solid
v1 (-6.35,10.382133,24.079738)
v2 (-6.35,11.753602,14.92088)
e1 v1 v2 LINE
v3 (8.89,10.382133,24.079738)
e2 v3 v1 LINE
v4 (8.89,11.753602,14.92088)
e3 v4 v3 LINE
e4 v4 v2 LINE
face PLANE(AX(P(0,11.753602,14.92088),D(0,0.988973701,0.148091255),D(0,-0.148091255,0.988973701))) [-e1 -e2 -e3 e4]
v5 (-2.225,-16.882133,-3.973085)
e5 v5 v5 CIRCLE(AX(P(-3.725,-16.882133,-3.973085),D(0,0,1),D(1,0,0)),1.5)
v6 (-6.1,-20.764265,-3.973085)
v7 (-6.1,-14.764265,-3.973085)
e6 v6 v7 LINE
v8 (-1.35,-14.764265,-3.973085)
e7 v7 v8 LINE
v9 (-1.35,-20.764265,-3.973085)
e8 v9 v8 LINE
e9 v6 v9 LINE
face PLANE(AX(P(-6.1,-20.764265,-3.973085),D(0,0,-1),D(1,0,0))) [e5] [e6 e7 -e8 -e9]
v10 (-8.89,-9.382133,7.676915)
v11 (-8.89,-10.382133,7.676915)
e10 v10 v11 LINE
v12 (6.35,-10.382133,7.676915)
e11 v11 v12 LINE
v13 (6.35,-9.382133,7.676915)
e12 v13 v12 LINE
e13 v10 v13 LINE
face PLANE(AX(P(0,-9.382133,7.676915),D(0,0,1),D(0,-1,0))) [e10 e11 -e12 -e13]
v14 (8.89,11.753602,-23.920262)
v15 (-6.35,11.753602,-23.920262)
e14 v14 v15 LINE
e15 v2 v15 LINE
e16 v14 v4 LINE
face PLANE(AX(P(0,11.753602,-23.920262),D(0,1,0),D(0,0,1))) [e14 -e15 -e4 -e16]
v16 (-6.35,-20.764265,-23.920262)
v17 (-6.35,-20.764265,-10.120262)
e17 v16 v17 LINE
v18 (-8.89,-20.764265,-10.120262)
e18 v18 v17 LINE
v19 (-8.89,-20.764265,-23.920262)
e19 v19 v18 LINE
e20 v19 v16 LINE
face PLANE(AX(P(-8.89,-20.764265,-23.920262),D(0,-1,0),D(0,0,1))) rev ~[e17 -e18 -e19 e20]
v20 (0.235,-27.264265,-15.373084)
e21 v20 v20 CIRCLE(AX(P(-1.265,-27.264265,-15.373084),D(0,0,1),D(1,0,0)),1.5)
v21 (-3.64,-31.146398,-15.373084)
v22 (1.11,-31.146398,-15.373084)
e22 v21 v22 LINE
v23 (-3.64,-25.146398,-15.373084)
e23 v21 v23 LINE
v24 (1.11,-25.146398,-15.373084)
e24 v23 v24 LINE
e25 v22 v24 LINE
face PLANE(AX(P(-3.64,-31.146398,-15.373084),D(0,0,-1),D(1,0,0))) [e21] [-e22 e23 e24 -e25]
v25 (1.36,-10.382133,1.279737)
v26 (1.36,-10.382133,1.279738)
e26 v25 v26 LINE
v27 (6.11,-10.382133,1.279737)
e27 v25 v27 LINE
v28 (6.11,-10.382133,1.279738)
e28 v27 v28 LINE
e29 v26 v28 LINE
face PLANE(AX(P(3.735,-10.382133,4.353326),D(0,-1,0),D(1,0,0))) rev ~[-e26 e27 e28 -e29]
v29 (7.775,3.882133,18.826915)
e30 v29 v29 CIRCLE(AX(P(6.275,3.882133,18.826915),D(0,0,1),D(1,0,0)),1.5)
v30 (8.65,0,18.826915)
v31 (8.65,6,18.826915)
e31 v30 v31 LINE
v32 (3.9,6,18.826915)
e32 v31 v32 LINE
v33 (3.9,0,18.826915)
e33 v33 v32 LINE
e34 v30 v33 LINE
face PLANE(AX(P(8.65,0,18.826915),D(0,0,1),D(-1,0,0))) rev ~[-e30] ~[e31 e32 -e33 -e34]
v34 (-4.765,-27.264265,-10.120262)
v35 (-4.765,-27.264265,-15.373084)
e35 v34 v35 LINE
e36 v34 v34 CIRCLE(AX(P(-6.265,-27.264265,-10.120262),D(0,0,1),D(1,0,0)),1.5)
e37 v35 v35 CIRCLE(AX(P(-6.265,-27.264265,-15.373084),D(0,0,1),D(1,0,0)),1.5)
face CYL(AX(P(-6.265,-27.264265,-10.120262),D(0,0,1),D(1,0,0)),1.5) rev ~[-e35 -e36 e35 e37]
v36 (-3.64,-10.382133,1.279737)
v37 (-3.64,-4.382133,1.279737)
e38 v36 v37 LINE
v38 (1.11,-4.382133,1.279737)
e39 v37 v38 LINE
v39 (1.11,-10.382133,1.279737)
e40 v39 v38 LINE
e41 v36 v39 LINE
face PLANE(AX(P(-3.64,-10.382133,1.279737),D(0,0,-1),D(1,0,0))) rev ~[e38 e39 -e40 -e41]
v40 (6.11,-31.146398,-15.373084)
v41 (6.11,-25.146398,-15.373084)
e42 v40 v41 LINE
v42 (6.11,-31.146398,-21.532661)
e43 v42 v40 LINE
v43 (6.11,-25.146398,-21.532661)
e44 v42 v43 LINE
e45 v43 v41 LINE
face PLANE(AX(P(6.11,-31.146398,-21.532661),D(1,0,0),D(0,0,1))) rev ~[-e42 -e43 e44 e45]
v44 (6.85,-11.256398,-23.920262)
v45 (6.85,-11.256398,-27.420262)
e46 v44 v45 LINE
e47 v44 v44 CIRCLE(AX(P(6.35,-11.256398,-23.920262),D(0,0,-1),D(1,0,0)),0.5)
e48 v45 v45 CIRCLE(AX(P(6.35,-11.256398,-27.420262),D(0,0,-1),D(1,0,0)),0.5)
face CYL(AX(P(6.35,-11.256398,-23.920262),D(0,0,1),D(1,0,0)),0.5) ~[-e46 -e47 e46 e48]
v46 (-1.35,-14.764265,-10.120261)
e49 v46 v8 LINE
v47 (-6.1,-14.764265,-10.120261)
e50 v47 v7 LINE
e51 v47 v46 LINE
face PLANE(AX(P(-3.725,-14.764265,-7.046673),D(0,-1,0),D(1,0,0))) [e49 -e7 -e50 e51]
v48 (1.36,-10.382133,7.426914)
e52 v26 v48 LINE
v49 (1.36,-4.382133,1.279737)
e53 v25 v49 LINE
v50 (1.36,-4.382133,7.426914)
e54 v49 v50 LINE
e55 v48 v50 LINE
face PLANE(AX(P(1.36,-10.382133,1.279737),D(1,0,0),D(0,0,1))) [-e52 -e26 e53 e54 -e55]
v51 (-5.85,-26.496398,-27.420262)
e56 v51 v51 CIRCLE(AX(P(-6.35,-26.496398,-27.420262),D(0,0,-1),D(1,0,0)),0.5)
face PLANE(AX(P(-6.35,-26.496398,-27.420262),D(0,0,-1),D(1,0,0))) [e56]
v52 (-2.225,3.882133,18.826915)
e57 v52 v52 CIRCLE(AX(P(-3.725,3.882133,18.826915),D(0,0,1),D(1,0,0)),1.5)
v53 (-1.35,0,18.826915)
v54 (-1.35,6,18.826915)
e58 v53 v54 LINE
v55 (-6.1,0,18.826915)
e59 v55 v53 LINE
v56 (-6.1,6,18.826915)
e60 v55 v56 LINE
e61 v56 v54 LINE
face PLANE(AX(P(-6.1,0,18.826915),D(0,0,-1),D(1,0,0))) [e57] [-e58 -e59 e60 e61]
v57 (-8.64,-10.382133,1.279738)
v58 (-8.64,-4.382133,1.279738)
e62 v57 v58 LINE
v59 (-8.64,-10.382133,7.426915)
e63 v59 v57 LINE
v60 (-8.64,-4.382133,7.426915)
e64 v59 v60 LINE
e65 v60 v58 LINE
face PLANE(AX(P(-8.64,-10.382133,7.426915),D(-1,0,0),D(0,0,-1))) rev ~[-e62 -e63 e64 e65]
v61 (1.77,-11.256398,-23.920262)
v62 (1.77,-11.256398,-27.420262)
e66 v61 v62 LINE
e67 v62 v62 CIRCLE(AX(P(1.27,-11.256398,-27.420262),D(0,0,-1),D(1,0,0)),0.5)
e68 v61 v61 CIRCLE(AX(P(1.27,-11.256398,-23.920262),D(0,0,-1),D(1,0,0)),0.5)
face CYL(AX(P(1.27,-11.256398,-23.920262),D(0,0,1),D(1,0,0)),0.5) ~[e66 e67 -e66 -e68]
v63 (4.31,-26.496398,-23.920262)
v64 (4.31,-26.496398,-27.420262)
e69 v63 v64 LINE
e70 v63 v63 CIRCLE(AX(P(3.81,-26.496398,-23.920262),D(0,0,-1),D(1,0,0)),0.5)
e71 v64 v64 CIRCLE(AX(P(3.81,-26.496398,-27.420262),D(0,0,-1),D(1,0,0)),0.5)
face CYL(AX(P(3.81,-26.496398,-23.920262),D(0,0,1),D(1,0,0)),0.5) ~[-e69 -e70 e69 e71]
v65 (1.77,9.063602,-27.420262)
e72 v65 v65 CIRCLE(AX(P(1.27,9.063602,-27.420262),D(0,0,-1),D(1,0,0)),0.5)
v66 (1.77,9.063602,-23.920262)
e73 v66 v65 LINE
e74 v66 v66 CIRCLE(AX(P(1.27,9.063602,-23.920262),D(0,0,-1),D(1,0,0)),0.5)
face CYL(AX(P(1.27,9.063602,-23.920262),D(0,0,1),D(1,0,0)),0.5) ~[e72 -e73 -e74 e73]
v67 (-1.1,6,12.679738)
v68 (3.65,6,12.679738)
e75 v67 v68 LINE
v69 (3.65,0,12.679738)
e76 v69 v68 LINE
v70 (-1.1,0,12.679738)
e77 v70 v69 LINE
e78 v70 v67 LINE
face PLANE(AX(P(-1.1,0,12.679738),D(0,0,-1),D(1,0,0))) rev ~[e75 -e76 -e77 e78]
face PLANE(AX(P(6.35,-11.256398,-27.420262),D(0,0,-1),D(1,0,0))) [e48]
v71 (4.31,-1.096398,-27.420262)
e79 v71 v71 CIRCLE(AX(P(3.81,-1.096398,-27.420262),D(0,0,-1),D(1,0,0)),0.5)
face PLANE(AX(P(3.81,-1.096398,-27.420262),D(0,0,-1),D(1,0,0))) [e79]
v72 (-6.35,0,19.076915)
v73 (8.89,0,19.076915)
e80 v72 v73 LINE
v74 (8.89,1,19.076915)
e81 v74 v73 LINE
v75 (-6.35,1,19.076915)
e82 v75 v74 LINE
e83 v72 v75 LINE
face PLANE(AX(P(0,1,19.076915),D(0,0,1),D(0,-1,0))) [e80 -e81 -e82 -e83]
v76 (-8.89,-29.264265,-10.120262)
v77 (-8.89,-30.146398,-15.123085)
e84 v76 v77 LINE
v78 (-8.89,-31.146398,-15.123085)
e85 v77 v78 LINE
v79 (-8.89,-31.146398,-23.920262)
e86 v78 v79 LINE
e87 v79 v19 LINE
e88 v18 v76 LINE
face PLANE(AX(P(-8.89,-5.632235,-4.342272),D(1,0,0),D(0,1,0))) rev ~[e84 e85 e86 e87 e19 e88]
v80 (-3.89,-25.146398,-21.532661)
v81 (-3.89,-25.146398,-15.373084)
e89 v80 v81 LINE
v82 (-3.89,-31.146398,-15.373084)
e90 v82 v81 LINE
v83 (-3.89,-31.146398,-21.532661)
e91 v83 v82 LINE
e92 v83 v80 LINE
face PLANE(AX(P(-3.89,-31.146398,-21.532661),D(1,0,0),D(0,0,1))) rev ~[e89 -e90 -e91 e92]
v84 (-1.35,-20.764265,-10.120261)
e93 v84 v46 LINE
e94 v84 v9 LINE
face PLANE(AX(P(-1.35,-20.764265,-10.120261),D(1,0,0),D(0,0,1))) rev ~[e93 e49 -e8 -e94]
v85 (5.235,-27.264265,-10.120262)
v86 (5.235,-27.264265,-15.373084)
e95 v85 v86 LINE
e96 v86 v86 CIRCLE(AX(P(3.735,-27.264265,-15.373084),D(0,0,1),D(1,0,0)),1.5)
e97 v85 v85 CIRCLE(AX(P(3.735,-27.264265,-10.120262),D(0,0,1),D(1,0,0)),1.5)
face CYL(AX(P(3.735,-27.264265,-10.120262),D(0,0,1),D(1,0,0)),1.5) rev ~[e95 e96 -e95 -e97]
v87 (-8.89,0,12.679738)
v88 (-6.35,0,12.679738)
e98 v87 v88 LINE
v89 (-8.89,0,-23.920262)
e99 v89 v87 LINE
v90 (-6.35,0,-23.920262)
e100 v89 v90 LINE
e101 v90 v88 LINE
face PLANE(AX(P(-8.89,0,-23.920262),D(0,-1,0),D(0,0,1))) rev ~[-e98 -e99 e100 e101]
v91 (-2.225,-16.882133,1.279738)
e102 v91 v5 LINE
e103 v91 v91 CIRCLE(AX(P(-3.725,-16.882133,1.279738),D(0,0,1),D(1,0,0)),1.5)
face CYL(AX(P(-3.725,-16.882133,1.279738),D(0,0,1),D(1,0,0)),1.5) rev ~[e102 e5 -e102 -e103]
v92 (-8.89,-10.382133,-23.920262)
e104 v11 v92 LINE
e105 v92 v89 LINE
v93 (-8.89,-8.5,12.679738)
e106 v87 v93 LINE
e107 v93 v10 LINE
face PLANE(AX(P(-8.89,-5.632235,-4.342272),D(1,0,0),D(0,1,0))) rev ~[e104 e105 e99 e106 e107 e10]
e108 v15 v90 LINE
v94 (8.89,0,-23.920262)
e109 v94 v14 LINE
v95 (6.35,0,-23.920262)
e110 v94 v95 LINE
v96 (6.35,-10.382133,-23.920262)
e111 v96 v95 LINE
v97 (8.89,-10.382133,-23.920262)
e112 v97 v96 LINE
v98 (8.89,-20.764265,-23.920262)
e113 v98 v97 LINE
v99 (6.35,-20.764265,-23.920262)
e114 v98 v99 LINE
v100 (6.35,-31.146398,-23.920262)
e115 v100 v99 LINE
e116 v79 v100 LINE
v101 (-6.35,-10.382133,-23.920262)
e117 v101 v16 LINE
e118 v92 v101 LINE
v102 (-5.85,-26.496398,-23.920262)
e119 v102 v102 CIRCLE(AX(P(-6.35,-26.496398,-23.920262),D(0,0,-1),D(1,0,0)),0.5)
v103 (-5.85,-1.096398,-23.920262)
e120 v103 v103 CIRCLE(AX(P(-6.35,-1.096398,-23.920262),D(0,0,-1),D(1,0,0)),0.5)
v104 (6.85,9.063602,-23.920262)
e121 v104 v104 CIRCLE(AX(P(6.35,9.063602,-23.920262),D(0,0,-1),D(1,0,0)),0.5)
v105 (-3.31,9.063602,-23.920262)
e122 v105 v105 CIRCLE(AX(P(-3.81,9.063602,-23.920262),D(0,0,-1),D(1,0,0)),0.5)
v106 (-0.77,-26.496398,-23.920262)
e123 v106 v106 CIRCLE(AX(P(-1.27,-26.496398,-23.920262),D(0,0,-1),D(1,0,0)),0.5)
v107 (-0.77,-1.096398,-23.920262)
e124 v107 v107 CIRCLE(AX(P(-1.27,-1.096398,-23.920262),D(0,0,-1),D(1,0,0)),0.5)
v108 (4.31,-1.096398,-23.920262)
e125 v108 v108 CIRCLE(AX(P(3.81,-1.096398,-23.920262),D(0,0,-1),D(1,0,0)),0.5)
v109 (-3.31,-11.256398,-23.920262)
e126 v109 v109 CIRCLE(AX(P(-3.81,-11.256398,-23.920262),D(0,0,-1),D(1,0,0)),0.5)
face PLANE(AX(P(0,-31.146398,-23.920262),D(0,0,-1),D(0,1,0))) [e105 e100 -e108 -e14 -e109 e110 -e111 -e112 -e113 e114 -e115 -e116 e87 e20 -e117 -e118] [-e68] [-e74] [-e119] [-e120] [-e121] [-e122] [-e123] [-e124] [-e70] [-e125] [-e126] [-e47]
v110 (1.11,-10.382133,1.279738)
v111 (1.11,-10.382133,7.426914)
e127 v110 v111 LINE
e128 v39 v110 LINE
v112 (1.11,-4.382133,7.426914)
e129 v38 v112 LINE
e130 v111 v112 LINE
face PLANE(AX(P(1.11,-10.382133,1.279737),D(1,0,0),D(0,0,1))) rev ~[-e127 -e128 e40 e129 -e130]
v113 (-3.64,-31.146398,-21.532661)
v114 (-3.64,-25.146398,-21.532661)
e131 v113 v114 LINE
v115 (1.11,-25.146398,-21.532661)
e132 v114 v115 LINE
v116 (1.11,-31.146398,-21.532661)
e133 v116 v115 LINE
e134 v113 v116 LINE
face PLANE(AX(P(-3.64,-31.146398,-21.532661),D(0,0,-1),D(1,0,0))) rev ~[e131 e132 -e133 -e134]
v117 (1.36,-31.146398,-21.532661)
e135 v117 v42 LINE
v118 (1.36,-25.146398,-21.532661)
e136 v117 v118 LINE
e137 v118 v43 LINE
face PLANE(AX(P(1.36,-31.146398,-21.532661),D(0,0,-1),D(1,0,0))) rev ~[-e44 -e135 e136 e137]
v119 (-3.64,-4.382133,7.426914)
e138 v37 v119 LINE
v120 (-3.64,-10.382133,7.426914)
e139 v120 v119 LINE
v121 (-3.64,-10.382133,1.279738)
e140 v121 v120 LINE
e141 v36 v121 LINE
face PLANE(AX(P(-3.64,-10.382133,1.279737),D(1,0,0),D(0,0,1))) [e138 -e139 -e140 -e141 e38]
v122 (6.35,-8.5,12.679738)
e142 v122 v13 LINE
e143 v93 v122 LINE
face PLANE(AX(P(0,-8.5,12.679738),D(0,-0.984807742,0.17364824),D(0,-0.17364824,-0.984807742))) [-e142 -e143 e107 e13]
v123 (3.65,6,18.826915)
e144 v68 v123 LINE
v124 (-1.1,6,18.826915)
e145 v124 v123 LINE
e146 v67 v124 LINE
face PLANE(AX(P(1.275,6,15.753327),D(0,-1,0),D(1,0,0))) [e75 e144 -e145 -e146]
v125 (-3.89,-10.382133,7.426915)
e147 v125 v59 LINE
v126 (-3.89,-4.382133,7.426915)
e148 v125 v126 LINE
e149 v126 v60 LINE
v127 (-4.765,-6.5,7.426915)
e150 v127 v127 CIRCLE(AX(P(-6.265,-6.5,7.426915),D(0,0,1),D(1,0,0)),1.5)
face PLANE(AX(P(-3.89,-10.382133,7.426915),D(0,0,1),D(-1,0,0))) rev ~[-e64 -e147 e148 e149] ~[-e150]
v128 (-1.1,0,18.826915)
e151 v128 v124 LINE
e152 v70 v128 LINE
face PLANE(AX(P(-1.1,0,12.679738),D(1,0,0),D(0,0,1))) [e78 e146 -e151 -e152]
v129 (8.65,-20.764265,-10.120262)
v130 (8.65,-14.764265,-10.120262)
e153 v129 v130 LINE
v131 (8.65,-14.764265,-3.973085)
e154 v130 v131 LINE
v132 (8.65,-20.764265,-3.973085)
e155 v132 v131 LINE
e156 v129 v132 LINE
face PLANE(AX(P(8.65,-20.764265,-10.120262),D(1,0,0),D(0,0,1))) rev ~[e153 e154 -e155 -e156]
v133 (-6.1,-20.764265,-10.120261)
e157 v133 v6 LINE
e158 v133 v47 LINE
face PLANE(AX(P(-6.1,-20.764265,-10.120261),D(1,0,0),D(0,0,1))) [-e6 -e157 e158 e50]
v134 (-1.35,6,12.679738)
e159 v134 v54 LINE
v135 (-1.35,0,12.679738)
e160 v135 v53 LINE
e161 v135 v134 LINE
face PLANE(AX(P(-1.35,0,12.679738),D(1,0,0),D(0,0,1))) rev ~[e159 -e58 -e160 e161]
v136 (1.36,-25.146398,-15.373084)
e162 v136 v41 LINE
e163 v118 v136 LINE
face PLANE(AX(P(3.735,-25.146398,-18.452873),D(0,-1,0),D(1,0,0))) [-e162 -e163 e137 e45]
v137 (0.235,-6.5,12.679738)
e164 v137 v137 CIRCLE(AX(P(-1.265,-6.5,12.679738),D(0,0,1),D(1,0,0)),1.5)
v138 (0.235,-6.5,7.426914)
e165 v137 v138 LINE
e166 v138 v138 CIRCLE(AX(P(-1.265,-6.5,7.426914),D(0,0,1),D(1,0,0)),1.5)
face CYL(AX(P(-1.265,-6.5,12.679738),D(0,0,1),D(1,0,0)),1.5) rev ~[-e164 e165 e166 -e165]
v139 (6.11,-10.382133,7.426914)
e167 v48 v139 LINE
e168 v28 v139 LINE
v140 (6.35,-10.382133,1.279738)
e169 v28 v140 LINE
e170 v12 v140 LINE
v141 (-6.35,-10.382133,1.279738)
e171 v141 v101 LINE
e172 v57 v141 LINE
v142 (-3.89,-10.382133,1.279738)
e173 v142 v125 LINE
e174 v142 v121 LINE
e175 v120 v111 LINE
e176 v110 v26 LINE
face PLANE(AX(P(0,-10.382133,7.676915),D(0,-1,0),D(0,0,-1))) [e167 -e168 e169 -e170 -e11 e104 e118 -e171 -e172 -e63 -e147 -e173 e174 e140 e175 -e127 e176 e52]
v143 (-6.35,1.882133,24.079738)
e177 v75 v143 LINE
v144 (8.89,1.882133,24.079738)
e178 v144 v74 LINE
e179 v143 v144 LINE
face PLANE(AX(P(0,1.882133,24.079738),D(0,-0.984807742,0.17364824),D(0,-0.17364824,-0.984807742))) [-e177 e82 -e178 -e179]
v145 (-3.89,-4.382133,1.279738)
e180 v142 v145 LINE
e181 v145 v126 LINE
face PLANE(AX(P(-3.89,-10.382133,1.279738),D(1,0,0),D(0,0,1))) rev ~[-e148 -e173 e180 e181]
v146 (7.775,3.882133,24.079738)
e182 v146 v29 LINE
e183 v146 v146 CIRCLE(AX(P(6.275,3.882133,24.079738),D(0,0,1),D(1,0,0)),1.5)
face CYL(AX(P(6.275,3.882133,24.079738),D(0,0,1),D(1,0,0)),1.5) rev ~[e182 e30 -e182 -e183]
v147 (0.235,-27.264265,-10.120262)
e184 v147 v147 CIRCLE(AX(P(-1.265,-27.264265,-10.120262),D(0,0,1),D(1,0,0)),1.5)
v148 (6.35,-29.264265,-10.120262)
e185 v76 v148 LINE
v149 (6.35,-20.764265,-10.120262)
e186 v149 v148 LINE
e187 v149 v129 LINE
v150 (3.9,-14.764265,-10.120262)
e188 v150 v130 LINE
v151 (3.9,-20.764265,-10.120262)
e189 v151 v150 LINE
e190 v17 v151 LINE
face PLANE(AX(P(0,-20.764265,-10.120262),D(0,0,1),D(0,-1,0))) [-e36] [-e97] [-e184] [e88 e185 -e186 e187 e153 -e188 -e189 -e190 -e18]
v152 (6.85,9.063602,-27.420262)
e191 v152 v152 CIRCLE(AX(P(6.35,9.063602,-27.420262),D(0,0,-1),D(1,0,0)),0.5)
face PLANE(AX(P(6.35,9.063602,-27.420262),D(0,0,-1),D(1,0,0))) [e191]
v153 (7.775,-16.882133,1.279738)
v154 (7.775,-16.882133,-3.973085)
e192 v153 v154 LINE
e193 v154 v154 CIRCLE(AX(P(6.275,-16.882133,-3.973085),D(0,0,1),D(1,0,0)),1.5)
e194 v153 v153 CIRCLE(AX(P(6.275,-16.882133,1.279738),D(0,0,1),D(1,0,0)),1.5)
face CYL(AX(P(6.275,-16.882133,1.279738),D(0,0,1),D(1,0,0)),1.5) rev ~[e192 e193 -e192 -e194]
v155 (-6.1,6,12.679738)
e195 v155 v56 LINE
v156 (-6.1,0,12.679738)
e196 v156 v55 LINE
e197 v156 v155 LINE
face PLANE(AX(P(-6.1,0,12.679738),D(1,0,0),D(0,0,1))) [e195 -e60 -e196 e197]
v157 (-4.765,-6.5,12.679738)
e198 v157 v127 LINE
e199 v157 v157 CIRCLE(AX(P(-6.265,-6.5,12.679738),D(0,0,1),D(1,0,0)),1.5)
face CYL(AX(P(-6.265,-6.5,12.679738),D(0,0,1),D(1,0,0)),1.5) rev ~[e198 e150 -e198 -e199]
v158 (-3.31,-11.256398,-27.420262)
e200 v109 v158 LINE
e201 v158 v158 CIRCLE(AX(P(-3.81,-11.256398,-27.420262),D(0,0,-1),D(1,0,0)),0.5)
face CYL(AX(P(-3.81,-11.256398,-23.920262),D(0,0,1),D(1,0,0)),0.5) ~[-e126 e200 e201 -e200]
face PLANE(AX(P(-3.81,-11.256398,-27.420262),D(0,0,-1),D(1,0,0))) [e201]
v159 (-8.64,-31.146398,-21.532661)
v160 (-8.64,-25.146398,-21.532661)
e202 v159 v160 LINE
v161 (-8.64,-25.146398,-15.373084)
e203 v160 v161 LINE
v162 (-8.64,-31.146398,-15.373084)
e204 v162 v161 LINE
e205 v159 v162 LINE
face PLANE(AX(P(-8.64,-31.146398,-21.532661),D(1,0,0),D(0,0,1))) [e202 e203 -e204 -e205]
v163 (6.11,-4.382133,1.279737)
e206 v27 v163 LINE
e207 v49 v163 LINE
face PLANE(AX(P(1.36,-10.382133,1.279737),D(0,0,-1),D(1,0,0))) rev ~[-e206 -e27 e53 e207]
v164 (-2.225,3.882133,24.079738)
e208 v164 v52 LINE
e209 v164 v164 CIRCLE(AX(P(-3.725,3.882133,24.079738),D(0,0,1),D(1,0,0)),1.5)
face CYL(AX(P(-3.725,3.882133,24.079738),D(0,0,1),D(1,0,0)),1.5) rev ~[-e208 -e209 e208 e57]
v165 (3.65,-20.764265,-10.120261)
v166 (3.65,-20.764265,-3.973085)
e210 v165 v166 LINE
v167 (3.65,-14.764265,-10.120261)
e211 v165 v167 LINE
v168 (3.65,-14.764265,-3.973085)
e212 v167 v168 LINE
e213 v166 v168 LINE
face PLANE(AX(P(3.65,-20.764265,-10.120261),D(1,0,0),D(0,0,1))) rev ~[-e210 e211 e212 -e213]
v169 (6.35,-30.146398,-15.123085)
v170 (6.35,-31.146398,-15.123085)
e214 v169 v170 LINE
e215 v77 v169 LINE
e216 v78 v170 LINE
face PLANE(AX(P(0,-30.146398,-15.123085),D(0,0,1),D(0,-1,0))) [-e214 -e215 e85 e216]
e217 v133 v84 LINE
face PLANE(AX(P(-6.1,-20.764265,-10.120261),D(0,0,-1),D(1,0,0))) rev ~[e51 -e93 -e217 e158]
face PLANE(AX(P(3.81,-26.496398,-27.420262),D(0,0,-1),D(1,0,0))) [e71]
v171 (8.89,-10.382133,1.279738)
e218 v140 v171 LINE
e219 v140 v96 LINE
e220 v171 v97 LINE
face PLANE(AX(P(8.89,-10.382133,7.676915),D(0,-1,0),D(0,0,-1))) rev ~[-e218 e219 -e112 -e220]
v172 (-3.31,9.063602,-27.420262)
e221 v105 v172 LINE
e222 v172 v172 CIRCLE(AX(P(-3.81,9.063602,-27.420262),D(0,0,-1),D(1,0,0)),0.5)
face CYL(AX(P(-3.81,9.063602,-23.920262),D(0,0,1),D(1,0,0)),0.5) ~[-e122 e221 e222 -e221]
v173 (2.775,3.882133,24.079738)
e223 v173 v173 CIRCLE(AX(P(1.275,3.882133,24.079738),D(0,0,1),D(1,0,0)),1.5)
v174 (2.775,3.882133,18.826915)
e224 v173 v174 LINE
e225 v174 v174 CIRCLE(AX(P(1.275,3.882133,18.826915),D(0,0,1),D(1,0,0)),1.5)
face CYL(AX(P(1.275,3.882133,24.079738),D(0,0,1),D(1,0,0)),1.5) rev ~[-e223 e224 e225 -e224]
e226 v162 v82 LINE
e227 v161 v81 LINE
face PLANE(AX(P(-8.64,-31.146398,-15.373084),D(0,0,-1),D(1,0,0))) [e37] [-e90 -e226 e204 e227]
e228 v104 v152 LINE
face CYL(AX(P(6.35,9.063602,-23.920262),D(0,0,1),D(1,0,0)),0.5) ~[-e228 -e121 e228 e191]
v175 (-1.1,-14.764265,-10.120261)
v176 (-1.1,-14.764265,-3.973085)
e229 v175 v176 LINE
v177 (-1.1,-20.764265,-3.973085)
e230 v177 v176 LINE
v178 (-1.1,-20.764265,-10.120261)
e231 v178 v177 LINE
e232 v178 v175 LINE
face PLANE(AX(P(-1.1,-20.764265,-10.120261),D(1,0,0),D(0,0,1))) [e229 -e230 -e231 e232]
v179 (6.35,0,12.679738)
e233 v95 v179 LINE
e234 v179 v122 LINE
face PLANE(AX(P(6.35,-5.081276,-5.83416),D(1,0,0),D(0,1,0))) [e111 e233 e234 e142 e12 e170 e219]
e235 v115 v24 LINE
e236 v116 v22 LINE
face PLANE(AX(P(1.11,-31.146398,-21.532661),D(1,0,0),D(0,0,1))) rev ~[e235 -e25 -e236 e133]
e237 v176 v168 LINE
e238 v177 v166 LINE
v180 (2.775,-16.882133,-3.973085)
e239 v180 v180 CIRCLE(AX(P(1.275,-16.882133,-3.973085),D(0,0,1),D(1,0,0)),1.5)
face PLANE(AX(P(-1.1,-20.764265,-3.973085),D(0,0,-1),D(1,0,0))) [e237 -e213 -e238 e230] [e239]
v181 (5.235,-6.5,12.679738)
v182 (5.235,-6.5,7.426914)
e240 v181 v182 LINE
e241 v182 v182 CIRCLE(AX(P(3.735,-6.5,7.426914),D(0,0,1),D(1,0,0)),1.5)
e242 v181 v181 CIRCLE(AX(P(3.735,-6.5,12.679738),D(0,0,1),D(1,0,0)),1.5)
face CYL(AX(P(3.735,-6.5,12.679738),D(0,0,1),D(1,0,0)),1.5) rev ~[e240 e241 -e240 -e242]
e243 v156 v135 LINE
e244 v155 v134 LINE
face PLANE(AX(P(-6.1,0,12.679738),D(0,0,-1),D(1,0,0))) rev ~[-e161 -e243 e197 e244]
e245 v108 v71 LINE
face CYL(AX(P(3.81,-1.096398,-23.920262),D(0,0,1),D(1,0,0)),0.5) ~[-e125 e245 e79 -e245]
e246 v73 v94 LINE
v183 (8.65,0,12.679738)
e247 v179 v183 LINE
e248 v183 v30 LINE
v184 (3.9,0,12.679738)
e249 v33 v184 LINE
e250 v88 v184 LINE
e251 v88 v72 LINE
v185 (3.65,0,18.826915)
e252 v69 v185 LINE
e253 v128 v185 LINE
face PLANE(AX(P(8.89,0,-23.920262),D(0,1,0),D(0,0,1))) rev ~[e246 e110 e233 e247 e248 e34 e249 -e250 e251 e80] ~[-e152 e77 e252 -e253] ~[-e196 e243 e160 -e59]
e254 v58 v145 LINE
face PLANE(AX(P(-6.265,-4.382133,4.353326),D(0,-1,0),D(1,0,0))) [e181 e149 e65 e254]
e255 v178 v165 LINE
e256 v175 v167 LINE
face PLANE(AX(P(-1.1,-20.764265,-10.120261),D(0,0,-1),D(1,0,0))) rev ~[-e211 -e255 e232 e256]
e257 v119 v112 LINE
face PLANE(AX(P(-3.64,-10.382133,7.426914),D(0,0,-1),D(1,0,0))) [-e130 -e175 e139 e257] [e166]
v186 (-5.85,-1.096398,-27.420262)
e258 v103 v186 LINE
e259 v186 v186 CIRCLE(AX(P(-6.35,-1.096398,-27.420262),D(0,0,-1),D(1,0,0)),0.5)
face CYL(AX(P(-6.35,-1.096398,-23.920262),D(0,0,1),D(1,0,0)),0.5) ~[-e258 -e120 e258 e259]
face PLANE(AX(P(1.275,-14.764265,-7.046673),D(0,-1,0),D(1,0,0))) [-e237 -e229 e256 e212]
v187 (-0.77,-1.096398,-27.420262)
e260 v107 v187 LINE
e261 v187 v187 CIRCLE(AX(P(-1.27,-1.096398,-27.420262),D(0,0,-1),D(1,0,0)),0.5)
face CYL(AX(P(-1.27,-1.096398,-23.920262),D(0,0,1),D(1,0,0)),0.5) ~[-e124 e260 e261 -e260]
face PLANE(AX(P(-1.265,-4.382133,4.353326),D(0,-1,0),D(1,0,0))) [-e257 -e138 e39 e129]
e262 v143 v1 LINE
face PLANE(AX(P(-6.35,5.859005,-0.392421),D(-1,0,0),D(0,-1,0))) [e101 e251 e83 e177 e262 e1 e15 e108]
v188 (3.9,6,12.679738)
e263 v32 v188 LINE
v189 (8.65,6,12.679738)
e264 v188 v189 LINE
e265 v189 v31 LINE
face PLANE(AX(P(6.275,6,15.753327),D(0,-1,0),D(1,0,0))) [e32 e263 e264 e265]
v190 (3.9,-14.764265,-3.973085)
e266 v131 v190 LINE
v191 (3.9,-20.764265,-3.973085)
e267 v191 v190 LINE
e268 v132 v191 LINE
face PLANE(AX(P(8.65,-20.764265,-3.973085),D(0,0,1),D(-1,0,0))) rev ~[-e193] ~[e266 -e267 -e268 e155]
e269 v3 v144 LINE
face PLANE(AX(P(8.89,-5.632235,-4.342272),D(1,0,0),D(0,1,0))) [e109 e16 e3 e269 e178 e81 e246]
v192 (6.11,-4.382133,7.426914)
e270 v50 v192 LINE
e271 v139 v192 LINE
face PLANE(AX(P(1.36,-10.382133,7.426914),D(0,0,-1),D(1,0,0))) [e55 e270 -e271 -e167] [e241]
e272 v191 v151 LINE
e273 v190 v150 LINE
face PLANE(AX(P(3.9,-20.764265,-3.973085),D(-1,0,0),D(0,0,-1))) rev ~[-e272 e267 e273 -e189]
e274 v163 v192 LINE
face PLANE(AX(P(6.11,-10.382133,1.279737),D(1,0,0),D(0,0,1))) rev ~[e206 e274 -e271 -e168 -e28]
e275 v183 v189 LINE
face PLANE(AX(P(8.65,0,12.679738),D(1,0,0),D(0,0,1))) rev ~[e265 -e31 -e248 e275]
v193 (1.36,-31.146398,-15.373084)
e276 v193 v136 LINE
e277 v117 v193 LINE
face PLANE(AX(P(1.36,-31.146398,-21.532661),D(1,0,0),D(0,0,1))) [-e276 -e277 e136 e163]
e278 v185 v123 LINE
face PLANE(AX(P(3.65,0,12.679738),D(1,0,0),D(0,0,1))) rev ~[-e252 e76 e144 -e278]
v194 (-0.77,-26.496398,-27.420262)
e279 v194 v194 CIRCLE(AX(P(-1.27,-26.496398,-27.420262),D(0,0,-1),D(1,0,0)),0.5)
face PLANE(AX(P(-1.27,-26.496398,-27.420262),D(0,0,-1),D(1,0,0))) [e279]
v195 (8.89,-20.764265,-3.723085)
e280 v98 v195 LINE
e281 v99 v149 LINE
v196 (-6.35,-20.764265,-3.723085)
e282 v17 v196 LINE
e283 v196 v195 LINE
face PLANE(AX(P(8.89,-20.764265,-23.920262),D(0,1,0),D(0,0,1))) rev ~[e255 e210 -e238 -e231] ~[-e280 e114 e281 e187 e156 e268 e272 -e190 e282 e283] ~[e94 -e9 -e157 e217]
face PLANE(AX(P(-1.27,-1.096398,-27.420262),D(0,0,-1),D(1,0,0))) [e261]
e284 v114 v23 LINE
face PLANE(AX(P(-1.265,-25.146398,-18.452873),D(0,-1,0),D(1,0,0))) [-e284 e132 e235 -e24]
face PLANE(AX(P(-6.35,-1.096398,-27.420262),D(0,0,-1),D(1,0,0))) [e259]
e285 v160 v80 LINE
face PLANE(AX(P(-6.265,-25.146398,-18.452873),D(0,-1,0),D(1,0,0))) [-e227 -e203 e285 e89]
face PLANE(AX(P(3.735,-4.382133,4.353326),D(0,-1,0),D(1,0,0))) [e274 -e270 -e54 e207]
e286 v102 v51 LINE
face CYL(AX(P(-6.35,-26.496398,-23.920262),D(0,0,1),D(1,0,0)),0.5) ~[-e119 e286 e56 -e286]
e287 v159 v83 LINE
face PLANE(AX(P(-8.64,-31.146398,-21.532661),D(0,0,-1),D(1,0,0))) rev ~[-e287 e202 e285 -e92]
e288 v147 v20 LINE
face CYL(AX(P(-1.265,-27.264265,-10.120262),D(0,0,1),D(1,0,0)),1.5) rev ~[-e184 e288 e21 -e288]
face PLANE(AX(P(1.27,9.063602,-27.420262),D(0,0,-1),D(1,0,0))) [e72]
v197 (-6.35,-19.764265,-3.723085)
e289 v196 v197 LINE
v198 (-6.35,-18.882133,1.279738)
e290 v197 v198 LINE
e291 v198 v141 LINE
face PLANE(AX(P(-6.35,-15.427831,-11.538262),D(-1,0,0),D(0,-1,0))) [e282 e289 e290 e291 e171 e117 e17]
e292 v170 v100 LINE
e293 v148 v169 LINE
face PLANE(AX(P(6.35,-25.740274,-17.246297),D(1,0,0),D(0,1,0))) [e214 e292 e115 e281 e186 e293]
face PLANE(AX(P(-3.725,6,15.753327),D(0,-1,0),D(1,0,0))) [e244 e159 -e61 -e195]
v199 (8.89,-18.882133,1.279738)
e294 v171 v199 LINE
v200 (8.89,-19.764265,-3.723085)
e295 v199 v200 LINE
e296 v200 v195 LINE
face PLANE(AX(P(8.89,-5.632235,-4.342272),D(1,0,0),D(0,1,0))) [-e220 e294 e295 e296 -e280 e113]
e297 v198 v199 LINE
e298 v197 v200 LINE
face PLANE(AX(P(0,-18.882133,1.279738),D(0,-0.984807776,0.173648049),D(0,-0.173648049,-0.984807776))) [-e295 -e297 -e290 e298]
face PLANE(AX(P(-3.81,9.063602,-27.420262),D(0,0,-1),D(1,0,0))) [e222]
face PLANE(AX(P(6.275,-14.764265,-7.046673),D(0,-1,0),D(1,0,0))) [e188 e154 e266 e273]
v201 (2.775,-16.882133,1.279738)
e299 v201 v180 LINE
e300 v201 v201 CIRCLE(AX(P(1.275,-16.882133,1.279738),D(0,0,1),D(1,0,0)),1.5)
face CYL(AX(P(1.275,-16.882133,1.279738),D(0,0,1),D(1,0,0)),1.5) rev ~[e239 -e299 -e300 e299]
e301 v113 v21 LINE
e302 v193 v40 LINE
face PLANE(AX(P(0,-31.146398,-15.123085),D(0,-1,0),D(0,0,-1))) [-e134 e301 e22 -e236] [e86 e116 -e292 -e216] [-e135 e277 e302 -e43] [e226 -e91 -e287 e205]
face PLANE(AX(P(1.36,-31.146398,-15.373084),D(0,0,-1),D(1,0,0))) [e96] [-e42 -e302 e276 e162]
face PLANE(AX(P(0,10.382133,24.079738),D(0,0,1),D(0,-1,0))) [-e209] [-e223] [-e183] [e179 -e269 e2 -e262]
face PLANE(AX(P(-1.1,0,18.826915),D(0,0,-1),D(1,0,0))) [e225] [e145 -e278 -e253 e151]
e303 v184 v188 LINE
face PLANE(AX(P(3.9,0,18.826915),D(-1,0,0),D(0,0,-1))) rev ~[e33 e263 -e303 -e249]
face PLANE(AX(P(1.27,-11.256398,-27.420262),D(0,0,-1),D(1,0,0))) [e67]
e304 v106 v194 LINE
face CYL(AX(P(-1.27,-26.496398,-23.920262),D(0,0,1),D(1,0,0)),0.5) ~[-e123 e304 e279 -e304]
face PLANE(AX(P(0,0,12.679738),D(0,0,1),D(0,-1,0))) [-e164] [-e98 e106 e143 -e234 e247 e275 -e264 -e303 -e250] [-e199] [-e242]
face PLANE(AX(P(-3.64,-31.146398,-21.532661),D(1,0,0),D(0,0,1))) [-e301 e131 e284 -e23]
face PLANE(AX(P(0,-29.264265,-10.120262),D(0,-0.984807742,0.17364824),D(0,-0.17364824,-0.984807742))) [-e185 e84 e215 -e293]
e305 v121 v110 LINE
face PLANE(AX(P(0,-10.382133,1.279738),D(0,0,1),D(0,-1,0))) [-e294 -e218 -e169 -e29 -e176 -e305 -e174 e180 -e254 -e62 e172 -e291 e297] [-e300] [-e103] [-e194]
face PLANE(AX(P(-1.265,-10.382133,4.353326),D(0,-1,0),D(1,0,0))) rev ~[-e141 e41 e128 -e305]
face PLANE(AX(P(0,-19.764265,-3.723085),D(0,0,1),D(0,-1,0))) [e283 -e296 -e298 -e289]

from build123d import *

# Parameters (mm, degrees)
F1_DEPTH  = 8.89
F3_DEPTH  = 2.54
F5_DEPTH  = 2.54
F6_W      = 4.75
F6_H      = 6.159577
F8_W      = 4.75
F8_H      = 6.147177
F7_W      = 4.75
F7_H      = 6.147177
F9_W      = 4.75
F9_H      = 6.147177
F10_DEPTH = 6
F11_R     = 1.5
F12_R     = 1.5
F13_R     = 1.5
F14_R     = 1.5
F15_DEPTH = 6
F16_R     = 0.5
F17_DEPTH = 3.5


with BuildPart() as f1:
    # F0 (on Right) → F1 (new body, symmetric)
    with BuildSketch(Plane.YZ):
        Polygon((10.382133, 24.079738), (1.882133, 24.079738), (1, 19.076915), (0, 19.076915), (0, 12.679738), (-8.5, 12.679738), (-9.382133, 7.676915), (-10.382133, 7.676915), (-10.382133, 1.279738), (-18.882133, 1.279738), (-19.764265, -3.723085), (-20.764265, -3.723085), (-20.764265, -10.120262), (-29.264265, -10.120262), (-30.146398, -15.123085), (-31.146398, -15.123085), (-31.146398, -23.920262), (11.753602, -23.920262), (11.753602, 14.92088), align=None)
    extrude(amount=F1_DEPTH, both=True)

    # F2 (on face) → F3 (cut)
    with BuildSketch(Plane(origin=(-8.89, 0, 0), x_dir=(0, -1, 0), z_dir=(-1, 0, 0))):
        Polygon((-11.753602, -23.920262), (0, -23.920262), (0, 12.679738), (0, 19.076915), (-1, 19.076915), (-1.882133, 24.079738), (-10.382133, 24.079738), (-11.753602, 14.92088), align=None)
        Polygon((20.764265, -23.920262), (20.764265, -10.120262), (20.764265, -3.723085), (19.764265, -3.723085), (18.882133, 1.279738), (10.382133, 1.279738), (10.382133, -23.920262), align=None)
    extrude(amount=-F3_DEPTH, mode=Mode.SUBTRACT)

    # F4 (on face) → F5 (cut)
    with BuildSketch(Plane.YZ.offset(8.89)):
        Polygon((-20.764265, -23.920262), (-20.764265, -10.120262), (-29.264265, -10.120262), (-30.146398, -15.123085), (-31.146398, -15.123085), (-31.146398, -23.920262), align=None)
        Polygon((-10.382133, 1.279738), (-10.382133, -23.920262), (0, -23.920262), (0, 12.679738), (-8.5, 12.679738), (-9.382133, 7.676915), (-10.382133, 7.676915), align=None)
    extrude(amount=-F5_DEPTH, mode=Mode.SUBTRACT)

    # F6 (on face) + F8 (on face) + F7 (on face) + F9 (on face) → F10 (cut)
    with BuildSketch(Plane.XZ.offset(31.146398)):
        with Locations((-6.265, -18.452873)):
            Rectangle(F6_W, F6_H)
        with Locations((-1.265, -18.452873)):
            Rectangle(F6_W, F6_H)
        with Locations((3.735, -18.452873)):
            Rectangle(F6_W, F6_H)
    with BuildSketch(Plane.XZ.offset(10.382133)):
        Polygon((-8.64, 7.426915), (-8.64, 1.279738), (-6.35, 1.279738), (-3.89, 1.279738), (-3.89, 7.426915), align=None)
        with Locations((-1.265, 4.353326)):
            Rectangle(F8_W, F8_H)
        with Locations((3.735, 4.353326)):
            Rectangle(F8_W, F8_H)
    with BuildSketch(Plane.XZ.offset(20.764265)):
        with Locations((-3.725, -7.046673)):
            Rectangle(F7_W, F7_H)
        with Locations((1.275, -7.046673)):
            Rectangle(F7_W, F7_H)
        Polygon((3.9, -3.973085), (3.9, -10.120262), (6.35, -10.120262), (8.65, -10.120262), (8.65, -3.973085), align=None)
    with BuildSketch(Plane.XZ):
        with Locations((-3.725, 15.753327)):
            Rectangle(F9_W, F9_H)
        with Locations((1.275, 15.753327)):
            Rectangle(F9_W, F9_H)
        Polygon((3.9, 18.826915), (3.9, 12.679738), (6.35, 12.679738), (8.65, 12.679738), (8.65, 18.826915), align=None)
    extrude(amount=-F10_DEPTH, mode=Mode.SUBTRACT)

    # F11 (on face) + F12 (on face) + F13 (on face) + F14 (on face) → F15 (cut)
    with BuildSketch(Plane.XY.offset(-10.120262)):
        with Locations((-6.265, -27.264265)):
            Circle(F11_R)
        with Locations((-1.265, -27.264265)):
            Circle(F11_R)
        with Locations((3.735, -27.264265)):
            Circle(F11_R)
    with BuildSketch(Plane.XY.offset(1.279738)):
        with Locations((-3.725, -16.882133)):
            Circle(F12_R)
        with Locations((1.275, -16.882133)):
            Circle(F12_R)
        with Locations((6.275, -16.882133)):
            Circle(F12_R)
    with BuildSketch(Plane.XY.offset(12.679738)):
        with Locations((-6.265, -6.5)):
            Circle(F13_R)
        with Locations((-1.265, -6.5)):
            Circle(F13_R)
        with Locations((3.735, -6.5)):
            Circle(F13_R)
    with BuildSketch(Plane.XY.offset(24.079738)):
        with Locations((-3.725, 3.882133)):
            Circle(F14_R)
        with Locations((1.275, 3.882133)):
            Circle(F14_R)
        with Locations((6.275, 3.882133)):
            Circle(F14_R)
    extrude(amount=-F15_DEPTH, mode=Mode.SUBTRACT)

    # F16 (on face) → F17 (join)
    with BuildSketch(Plane(origin=(0, 0, -23.920262), x_dir=(1, 0, 0), z_dir=(0, 0, -1))):
        with Locations((3.81, 26.496398)):
            Circle(F16_R)
        with Locations((-1.27, 26.496398)):
            Circle(F16_R)
        with Locations((-6.35, 26.496398)):
            Circle(F16_R)
        with Locations((6.35, 11.256398)):
            Circle(F16_R)
        with Locations((1.27, 11.256398)):
            Circle(F16_R)
        with Locations((-3.81, 11.256398)):
            Circle(F16_R)
        with Locations((-6.35, 1.096398)):
            Circle(F16_R)
        with Locations((-1.27, 1.096398)):
            Circle(F16_R)
        with Locations((3.81, 1.096398)):
            Circle(F16_R)
        with Locations((6.35, -9.063602)):
            Circle(F16_R)
        with Locations((1.27, -9.063602)):
            Circle(F16_R)
        with Locations((-3.81, -9.063602)):
            Circle(F16_R)
    extrude(amount=F17_DEPTH)


solid = f1.part
